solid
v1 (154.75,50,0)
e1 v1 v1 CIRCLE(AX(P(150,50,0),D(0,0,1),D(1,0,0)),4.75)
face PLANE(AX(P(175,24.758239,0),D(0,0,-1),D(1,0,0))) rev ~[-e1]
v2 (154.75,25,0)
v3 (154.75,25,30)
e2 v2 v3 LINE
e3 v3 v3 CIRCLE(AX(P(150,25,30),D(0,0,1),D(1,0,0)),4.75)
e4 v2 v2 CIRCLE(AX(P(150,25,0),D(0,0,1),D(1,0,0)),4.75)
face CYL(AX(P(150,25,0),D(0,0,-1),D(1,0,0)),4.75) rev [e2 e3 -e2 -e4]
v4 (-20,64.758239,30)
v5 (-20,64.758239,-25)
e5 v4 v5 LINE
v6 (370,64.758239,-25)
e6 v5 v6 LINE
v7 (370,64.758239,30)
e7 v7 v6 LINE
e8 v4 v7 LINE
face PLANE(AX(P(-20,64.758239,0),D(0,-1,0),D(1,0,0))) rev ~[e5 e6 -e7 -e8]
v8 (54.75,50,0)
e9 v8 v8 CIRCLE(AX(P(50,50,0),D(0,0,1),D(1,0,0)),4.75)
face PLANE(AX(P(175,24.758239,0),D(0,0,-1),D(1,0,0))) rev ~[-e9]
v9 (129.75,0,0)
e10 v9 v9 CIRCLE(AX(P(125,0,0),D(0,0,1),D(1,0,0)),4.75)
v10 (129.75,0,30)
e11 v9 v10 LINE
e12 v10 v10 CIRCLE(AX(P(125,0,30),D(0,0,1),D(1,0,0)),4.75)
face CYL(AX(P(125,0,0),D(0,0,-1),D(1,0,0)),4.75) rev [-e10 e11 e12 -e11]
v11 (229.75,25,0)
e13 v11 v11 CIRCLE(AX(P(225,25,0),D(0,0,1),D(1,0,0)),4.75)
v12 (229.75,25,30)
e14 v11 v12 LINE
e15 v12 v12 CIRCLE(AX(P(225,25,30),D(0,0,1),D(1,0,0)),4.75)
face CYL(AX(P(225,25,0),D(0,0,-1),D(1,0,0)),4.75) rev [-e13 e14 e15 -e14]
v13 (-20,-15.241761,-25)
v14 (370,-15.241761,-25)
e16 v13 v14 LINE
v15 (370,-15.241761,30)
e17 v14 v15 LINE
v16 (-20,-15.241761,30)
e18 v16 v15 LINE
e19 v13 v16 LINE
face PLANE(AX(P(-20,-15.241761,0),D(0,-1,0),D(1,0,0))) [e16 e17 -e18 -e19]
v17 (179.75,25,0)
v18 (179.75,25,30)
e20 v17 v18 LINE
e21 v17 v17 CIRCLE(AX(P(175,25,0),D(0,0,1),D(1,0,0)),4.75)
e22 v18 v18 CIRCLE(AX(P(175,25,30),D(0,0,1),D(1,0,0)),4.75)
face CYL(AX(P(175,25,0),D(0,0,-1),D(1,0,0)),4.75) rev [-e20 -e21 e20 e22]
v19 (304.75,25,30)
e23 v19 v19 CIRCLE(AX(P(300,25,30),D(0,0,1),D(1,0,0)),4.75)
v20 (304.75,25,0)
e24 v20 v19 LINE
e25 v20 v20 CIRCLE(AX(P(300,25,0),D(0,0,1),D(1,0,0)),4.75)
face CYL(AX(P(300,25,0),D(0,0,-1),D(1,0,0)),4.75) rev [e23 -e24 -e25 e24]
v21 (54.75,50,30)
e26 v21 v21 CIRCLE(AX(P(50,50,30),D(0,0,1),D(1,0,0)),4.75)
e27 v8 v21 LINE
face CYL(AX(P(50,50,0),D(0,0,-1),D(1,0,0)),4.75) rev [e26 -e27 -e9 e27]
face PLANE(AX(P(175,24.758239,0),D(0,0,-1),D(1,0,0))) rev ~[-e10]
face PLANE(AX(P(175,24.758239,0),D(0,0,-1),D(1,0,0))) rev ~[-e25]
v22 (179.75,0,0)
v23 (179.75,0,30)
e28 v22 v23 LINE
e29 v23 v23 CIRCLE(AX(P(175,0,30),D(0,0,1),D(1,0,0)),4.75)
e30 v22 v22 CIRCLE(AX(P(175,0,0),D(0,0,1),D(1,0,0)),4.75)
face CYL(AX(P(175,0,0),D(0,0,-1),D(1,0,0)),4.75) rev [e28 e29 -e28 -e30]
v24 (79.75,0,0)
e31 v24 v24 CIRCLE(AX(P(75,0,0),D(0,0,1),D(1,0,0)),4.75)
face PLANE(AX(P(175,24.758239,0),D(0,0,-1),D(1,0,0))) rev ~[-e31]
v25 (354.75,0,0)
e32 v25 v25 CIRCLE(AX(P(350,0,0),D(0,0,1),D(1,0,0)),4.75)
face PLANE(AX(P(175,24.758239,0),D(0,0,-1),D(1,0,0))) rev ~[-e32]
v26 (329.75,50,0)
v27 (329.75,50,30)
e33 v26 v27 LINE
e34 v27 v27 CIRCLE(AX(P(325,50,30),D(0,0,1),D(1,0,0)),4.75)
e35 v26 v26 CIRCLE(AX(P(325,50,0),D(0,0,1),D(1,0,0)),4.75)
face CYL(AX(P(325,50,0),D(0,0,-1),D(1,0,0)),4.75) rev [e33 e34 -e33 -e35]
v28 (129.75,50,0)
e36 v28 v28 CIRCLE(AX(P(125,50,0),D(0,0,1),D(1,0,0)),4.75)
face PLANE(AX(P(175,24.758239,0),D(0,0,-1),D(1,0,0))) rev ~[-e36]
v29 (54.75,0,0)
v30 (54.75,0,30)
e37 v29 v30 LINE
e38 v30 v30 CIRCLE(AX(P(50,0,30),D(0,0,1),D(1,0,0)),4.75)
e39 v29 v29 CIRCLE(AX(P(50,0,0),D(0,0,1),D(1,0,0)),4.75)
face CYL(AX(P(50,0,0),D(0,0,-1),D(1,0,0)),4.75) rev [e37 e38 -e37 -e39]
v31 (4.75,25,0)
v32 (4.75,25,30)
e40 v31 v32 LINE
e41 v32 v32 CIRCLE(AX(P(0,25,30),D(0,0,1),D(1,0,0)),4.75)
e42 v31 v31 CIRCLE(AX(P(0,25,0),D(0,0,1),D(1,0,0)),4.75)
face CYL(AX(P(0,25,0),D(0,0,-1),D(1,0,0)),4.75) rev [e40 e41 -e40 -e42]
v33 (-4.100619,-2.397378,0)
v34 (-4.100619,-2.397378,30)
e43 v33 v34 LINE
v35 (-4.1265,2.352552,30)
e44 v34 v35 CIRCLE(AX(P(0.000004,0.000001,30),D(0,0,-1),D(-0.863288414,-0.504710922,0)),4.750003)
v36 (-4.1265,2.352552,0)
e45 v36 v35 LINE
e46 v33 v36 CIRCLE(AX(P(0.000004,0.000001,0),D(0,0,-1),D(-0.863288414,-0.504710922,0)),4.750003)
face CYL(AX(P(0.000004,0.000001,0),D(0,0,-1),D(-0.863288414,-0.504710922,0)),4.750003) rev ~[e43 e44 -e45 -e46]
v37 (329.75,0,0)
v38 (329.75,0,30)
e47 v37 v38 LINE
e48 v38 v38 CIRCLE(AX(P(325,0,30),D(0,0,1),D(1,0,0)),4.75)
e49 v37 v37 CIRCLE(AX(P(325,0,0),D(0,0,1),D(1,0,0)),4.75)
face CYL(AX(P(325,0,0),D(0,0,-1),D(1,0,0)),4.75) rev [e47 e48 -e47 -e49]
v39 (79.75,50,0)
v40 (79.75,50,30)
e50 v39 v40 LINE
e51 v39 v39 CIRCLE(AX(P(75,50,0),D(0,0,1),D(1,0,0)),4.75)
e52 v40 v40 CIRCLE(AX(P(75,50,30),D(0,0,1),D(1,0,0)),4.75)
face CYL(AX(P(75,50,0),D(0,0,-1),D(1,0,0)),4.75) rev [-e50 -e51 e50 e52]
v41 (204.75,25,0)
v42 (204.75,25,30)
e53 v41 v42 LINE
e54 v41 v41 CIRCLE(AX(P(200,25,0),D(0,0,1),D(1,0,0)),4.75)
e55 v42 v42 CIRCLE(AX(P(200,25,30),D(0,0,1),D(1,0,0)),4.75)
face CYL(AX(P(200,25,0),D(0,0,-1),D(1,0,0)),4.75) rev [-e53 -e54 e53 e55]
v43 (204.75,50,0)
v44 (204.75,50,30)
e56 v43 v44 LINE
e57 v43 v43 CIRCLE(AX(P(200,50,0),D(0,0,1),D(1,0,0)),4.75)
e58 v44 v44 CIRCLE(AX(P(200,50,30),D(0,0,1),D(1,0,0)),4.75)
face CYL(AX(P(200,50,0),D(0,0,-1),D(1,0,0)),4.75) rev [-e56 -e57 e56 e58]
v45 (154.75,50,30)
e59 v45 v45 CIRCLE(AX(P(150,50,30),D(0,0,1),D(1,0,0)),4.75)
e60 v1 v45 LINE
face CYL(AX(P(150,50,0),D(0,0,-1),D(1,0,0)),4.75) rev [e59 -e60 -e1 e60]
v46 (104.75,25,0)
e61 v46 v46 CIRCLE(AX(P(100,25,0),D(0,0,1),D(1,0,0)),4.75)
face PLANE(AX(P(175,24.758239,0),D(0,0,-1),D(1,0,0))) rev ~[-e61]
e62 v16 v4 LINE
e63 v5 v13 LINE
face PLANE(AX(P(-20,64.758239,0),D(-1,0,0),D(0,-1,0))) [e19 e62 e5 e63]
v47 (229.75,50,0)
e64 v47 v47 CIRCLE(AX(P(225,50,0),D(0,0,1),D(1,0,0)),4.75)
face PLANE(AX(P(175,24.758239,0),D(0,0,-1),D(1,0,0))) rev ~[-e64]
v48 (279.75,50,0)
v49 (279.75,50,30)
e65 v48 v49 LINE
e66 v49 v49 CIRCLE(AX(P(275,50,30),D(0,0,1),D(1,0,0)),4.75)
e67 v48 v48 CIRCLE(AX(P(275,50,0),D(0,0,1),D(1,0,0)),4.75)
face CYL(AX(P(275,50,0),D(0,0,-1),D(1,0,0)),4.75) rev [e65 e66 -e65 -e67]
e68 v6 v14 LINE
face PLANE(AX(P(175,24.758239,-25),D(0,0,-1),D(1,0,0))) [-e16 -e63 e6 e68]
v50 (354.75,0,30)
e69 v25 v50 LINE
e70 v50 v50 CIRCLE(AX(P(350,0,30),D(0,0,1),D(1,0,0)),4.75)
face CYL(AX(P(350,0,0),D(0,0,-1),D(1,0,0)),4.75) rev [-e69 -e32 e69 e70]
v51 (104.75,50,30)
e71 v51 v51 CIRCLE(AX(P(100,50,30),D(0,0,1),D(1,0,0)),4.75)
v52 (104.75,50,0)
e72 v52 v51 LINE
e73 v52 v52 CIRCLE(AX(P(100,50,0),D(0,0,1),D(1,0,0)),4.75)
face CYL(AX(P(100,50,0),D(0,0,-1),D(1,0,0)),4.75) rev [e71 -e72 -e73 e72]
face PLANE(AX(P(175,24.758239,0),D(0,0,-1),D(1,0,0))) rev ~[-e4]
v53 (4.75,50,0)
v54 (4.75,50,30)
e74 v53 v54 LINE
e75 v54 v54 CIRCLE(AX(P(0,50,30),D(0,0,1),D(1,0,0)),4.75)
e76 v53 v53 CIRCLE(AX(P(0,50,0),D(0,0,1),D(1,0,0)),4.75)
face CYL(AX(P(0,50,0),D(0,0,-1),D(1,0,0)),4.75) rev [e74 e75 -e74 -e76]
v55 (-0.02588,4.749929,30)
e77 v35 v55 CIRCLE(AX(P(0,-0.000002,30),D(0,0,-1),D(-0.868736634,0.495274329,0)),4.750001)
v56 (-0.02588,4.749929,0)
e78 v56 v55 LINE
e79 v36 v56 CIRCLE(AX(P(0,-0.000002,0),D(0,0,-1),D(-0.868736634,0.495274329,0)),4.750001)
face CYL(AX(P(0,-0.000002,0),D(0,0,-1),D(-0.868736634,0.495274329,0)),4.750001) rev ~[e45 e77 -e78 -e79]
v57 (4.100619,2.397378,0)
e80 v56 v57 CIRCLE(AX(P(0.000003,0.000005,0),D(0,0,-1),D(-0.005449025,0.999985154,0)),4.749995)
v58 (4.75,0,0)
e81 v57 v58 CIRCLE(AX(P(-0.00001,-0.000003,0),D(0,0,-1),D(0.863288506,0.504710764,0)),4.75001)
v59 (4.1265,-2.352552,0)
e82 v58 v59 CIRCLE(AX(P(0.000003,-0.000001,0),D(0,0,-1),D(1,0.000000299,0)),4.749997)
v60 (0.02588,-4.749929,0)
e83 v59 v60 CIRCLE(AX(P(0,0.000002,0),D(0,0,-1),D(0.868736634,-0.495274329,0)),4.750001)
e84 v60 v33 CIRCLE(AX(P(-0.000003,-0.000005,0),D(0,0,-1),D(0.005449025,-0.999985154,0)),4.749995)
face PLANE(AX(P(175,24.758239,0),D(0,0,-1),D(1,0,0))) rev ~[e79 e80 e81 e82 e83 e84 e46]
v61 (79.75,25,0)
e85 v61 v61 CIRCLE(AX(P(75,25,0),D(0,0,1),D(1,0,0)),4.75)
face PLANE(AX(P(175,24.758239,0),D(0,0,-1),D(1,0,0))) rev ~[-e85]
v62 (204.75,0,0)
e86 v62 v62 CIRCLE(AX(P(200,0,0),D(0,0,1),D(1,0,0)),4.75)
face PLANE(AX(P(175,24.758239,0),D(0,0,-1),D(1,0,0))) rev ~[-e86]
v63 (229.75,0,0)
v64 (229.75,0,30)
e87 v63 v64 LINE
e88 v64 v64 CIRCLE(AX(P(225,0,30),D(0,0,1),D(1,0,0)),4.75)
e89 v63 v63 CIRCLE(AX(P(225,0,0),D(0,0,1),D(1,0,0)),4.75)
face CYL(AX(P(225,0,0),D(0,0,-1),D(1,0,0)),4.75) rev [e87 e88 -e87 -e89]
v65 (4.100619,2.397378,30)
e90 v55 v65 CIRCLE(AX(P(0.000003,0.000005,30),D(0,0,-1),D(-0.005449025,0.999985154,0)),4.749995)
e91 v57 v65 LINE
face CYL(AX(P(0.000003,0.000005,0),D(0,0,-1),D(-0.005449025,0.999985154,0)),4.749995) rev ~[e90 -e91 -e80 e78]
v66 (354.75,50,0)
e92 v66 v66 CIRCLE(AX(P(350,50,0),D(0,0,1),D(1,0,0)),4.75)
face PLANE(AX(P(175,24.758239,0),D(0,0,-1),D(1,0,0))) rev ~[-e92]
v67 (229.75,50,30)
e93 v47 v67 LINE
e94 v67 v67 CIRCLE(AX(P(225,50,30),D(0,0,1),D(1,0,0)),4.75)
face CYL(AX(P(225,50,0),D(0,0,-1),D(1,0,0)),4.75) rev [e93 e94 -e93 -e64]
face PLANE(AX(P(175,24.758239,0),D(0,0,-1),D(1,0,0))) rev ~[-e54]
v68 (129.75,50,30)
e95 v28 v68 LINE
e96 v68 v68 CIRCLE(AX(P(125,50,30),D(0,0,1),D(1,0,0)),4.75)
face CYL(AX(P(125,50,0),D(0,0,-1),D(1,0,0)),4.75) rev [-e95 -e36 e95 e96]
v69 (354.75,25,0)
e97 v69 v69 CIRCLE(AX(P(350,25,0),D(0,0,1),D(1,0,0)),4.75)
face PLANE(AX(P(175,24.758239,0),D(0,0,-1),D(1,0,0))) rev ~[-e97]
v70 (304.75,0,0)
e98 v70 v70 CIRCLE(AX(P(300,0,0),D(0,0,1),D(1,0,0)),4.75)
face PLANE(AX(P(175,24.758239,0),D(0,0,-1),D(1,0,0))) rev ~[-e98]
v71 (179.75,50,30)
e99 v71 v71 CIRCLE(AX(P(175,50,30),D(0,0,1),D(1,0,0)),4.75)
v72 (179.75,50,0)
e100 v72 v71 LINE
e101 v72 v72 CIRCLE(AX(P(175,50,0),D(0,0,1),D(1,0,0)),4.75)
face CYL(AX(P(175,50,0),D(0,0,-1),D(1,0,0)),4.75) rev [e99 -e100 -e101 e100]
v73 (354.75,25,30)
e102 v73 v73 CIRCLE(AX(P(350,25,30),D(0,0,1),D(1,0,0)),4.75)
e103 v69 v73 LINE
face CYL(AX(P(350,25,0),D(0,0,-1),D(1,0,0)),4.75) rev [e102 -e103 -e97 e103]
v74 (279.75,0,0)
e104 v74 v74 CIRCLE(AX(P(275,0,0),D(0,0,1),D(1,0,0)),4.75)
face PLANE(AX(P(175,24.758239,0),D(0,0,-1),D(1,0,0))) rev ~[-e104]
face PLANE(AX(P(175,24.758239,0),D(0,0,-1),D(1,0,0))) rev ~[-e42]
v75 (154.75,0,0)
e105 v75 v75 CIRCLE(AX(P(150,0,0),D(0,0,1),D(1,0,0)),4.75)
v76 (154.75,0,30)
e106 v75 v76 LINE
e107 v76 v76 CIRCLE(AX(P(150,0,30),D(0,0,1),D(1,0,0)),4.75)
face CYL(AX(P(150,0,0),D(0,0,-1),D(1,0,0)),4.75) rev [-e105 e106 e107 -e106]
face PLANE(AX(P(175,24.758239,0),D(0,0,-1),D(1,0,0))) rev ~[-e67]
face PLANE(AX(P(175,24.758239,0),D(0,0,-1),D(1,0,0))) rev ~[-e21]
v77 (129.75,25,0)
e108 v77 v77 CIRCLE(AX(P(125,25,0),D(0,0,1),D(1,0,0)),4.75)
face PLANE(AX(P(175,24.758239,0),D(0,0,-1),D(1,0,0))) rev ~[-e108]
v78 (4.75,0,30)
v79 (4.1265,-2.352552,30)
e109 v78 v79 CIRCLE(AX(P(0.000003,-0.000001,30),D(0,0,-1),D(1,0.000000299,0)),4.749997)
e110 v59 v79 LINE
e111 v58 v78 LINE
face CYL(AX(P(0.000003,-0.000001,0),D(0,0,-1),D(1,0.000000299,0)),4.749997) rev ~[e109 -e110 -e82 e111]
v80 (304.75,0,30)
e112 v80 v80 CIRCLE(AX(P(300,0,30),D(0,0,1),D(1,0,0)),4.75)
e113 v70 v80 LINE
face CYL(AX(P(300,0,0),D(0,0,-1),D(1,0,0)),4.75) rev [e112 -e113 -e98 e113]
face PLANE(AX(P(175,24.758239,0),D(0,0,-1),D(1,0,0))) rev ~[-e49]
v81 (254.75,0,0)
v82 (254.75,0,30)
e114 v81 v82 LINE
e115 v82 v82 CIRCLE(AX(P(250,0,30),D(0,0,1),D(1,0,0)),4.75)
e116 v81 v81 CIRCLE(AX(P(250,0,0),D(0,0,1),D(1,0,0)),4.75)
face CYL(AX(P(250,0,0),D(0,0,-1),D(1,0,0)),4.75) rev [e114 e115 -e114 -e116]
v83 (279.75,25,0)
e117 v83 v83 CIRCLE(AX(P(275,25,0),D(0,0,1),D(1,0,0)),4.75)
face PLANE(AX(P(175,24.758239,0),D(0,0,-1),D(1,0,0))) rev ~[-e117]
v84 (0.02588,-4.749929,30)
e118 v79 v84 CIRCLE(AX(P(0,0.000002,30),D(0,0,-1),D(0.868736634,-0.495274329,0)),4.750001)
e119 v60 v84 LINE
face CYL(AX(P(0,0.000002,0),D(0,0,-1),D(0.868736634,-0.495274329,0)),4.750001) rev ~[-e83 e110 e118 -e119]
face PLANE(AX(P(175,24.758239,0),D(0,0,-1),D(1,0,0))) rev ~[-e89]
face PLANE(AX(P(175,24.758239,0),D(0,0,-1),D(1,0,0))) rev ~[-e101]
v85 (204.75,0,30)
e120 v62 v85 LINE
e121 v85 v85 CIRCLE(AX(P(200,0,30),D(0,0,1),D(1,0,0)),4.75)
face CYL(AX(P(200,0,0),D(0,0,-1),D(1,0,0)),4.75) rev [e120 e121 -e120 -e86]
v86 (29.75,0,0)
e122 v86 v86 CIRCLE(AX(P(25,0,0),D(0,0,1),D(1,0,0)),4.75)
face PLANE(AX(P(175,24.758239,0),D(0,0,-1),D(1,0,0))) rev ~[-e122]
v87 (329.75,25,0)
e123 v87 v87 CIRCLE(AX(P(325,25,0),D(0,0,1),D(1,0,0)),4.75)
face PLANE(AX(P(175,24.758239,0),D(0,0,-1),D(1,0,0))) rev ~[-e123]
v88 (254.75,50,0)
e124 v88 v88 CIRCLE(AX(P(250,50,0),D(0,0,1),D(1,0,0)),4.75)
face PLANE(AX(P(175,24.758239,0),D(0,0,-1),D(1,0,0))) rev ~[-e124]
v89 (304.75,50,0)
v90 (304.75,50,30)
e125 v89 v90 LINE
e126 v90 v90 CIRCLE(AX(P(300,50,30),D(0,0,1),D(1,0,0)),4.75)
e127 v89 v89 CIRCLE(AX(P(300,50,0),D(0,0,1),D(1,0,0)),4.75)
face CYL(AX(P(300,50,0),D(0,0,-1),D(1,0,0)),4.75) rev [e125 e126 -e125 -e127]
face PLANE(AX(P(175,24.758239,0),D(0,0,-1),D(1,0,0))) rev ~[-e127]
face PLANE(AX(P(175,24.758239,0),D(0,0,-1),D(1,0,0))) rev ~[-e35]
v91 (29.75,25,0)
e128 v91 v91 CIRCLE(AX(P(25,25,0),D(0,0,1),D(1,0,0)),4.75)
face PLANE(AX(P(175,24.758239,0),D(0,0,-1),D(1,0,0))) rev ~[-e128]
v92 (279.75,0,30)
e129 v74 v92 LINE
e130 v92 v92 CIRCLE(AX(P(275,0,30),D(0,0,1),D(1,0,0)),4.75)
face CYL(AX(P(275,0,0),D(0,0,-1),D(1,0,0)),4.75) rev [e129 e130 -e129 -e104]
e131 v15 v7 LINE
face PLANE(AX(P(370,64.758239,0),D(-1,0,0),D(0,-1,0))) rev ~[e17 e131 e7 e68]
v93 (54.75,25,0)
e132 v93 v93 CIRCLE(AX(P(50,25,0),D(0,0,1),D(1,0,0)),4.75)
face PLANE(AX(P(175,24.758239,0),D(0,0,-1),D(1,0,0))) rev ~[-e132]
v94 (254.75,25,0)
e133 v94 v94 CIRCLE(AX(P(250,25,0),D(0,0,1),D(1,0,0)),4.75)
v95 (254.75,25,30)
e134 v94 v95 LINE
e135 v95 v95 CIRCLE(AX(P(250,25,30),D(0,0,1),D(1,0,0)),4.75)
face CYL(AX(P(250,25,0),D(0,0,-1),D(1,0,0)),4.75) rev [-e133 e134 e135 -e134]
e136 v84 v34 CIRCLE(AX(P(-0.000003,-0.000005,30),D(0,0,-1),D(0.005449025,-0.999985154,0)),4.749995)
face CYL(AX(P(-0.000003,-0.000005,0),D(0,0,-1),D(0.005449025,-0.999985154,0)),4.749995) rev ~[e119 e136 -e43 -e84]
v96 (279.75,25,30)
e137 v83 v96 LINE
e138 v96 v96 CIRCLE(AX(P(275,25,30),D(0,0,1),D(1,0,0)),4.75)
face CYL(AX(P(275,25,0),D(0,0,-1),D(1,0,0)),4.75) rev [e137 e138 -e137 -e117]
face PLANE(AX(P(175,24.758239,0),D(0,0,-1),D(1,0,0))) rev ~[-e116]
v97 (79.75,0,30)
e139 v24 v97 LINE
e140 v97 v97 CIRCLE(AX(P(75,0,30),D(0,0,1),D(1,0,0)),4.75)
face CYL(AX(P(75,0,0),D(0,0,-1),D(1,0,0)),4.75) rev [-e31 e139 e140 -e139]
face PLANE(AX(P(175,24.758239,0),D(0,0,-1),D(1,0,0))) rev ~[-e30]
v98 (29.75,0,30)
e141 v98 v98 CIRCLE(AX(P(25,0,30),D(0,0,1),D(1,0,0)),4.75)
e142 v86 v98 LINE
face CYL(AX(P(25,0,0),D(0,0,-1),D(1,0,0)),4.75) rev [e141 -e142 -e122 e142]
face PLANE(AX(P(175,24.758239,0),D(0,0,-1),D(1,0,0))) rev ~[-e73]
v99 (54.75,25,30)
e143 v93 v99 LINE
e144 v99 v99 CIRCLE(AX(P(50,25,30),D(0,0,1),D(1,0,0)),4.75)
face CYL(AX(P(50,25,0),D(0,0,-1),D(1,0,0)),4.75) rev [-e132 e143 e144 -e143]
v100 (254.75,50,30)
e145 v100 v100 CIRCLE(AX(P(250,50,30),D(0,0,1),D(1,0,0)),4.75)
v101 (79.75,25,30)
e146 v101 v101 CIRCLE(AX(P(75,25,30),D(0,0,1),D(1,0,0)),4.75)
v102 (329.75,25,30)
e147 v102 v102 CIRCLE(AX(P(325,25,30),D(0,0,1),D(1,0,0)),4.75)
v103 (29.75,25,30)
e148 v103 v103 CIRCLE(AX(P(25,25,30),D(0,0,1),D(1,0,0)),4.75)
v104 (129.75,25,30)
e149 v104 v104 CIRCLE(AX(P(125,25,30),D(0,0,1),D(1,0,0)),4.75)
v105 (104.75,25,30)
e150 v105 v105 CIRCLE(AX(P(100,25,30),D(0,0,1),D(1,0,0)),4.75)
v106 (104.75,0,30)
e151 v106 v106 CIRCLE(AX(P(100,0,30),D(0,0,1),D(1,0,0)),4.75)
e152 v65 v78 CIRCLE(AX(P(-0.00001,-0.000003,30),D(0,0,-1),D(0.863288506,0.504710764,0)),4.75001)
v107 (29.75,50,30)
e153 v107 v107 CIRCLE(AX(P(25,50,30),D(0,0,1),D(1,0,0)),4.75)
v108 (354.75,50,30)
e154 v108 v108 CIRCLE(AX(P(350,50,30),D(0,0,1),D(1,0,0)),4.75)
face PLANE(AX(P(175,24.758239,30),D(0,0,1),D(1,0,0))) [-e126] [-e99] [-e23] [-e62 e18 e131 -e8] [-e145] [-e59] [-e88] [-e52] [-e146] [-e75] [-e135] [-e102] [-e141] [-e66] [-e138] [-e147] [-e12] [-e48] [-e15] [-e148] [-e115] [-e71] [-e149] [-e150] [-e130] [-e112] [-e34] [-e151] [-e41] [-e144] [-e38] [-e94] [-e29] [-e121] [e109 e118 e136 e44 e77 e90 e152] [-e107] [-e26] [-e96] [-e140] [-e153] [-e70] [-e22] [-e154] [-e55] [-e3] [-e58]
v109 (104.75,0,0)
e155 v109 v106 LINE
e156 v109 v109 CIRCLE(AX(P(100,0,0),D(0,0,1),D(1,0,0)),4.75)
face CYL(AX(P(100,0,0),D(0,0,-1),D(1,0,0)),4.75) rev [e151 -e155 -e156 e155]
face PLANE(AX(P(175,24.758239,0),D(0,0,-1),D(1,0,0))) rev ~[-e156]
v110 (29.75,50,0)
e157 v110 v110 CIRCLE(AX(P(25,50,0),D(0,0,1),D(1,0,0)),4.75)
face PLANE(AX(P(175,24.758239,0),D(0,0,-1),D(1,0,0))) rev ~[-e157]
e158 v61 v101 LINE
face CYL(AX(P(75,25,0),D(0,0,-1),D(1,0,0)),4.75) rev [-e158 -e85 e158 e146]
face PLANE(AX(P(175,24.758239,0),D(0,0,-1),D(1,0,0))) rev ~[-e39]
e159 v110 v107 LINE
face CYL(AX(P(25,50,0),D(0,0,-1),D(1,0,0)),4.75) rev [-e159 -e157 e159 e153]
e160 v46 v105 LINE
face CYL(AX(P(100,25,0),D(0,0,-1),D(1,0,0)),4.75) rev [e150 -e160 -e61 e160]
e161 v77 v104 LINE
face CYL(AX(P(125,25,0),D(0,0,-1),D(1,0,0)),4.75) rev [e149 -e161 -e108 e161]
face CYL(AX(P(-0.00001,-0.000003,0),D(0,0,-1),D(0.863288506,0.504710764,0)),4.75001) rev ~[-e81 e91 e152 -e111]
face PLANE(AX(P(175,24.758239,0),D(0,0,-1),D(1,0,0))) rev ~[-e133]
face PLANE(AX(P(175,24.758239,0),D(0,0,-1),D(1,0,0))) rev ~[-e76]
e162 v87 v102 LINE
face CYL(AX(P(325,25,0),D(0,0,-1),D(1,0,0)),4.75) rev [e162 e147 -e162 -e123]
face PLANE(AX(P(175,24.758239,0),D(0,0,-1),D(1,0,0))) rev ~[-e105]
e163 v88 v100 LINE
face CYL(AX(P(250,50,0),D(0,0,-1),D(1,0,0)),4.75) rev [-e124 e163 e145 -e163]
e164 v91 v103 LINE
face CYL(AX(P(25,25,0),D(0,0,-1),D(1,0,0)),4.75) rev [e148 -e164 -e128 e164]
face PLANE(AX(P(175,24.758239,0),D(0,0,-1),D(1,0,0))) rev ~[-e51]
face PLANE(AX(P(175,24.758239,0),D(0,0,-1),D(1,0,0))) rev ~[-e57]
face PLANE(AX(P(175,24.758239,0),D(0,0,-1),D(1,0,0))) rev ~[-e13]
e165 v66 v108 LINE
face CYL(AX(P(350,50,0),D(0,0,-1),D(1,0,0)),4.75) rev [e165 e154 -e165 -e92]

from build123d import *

# Parameters (mm, degrees)
F0_W     = 390
F0_H     = 80
F0_R     = 4.75
F1_DEPTH = 30
F2_W     = 390
F2_H     = 80
F3_DEPTH = 25


with BuildPart() as f1:
    # F0 (on Top) → F1 (new body)
    with BuildSketch(Plane.XY):
        with Locations((175, 24.758239)):
            Rectangle(F0_W, F0_H)
        with BuildLine():
            ThreePointArc((-4.1265, 2.352552), (-2.397378, 4.100619), (-0.02588, 4.749929))
            ThreePointArc((-0.02588, 4.749929), (2.352552, 4.1265), (4.100619, 2.397378))
            ThreePointArc((4.100619, 2.397378), (4.584781, 1.241885), (4.75, 0))
            ThreePointArc((4.75, 0), (4.59148, -1.216887), (4.1265, -2.352552))
            ThreePointArc((4.1265, -2.352552), (2.397378, -4.100619), (0.02588, -4.749929))
            ThreePointArc((0.02588, -4.749929), (-2.352552, -4.1265), (-4.100619, -2.397378))
            ThreePointArc((-4.100619, -2.397378), (-4.749929, -0.02588), (-4.1265, 2.352552))
        make_face(mode=Mode.SUBTRACT)
        with Locations((25, 0)):
            Circle(F0_R, mode=Mode.SUBTRACT)
        with Locations((50, 0)):
            Circle(F0_R, mode=Mode.SUBTRACT)
        with Locations((75, 0)):
            Circle(F0_R, mode=Mode.SUBTRACT)
        with Locations((100, 0)):
            Circle(F0_R, mode=Mode.SUBTRACT)
        with Locations((125, 0)):
            Circle(F0_R, mode=Mode.SUBTRACT)
        with Locations((150, 0)):
            Circle(F0_R, mode=Mode.SUBTRACT)
        with Locations((175, 0)):
            Circle(F0_R, mode=Mode.SUBTRACT)
        with Locations((200, 0)):
            Circle(F0_R, mode=Mode.SUBTRACT)
        with Locations((225, 0)):
            Circle(F0_R, mode=Mode.SUBTRACT)
        with Locations((250, 0)):
            Circle(F0_R, mode=Mode.SUBTRACT)
        with Locations((275, 0)):
            Circle(F0_R, mode=Mode.SUBTRACT)
        with Locations((300, 0)):
            Circle(F0_R, mode=Mode.SUBTRACT)
        with Locations((325, 0)):
            Circle(F0_R, mode=Mode.SUBTRACT)
        with Locations((350, 0)):
            Circle(F0_R, mode=Mode.SUBTRACT)
        with Locations((0, 25)):
            Circle(F0_R, mode=Mode.SUBTRACT)
        with Locations((25, 25)):
            Circle(F0_R, mode=Mode.SUBTRACT)
        with Locations((50, 25)):
            Circle(F0_R, mode=Mode.SUBTRACT)
        with Locations((75, 25)):
            Circle(F0_R, mode=Mode.SUBTRACT)
        with Locations((100, 25)):
            Circle(F0_R, mode=Mode.SUBTRACT)
        with Locations((125, 25)):
            Circle(F0_R, mode=Mode.SUBTRACT)
        with Locations((150, 25)):
            Circle(F0_R, mode=Mode.SUBTRACT)
        with Locations((0, 50)):
            Circle(F0_R, mode=Mode.SUBTRACT)
        with Locations((25, 50)):
            Circle(F0_R, mode=Mode.SUBTRACT)
        with Locations((50, 50)):
            Circle(F0_R, mode=Mode.SUBTRACT)
        with Locations((75, 50)):
            Circle(F0_R, mode=Mode.SUBTRACT)
        with Locations((100, 50)):
            Circle(F0_R, mode=Mode.SUBTRACT)
        with Locations((125, 50)):
            Circle(F0_R, mode=Mode.SUBTRACT)
        with Locations((150, 50)):
            Circle(F0_R, mode=Mode.SUBTRACT)
        with Locations((175, 25)):
            Circle(F0_R, mode=Mode.SUBTRACT)
        with Locations((200, 25)):
            Circle(F0_R, mode=Mode.SUBTRACT)
        with Locations((225, 25)):
            Circle(F0_R, mode=Mode.SUBTRACT)
        with Locations((250, 25)):
            Circle(F0_R, mode=Mode.SUBTRACT)
        with Locations((275, 25)):
            Circle(F0_R, mode=Mode.SUBTRACT)
        with Locations((300, 25)):
            Circle(F0_R, mode=Mode.SUBTRACT)
        with Locations((325, 25)):
            Circle(F0_R, mode=Mode.SUBTRACT)
        with Locations((350, 25)):
            Circle(F0_R, mode=Mode.SUBTRACT)
        with Locations((175, 50)):
            Circle(F0_R, mode=Mode.SUBTRACT)
        with Locations((200, 50)):
            Circle(F0_R, mode=Mode.SUBTRACT)
        with Locations((225, 50)):
            Circle(F0_R, mode=Mode.SUBTRACT)
        with Locations((250, 50)):
            Circle(F0_R, mode=Mode.SUBTRACT)
        with Locations((275, 50)):
            Circle(F0_R, mode=Mode.SUBTRACT)
        with Locations((300, 50)):
            Circle(F0_R, mode=Mode.SUBTRACT)
        with Locations((325, 50)):
            Circle(F0_R, mode=Mode.SUBTRACT)
        with Locations((350, 50)):
            Circle(F0_R, mode=Mode.SUBTRACT)
    extrude(amount=F1_DEPTH)

    # F2 (on face) → F3 (join)
    with BuildSketch(Plane(origin=(0, 0, 0), x_dir=(1, 0, 0), z_dir=(0, 0, -1))):
        with Locations((175, -24.758239)):
            Rectangle(F2_W, F2_H)
    extrude(amount=F3_DEPTH)


solid = f1.part
